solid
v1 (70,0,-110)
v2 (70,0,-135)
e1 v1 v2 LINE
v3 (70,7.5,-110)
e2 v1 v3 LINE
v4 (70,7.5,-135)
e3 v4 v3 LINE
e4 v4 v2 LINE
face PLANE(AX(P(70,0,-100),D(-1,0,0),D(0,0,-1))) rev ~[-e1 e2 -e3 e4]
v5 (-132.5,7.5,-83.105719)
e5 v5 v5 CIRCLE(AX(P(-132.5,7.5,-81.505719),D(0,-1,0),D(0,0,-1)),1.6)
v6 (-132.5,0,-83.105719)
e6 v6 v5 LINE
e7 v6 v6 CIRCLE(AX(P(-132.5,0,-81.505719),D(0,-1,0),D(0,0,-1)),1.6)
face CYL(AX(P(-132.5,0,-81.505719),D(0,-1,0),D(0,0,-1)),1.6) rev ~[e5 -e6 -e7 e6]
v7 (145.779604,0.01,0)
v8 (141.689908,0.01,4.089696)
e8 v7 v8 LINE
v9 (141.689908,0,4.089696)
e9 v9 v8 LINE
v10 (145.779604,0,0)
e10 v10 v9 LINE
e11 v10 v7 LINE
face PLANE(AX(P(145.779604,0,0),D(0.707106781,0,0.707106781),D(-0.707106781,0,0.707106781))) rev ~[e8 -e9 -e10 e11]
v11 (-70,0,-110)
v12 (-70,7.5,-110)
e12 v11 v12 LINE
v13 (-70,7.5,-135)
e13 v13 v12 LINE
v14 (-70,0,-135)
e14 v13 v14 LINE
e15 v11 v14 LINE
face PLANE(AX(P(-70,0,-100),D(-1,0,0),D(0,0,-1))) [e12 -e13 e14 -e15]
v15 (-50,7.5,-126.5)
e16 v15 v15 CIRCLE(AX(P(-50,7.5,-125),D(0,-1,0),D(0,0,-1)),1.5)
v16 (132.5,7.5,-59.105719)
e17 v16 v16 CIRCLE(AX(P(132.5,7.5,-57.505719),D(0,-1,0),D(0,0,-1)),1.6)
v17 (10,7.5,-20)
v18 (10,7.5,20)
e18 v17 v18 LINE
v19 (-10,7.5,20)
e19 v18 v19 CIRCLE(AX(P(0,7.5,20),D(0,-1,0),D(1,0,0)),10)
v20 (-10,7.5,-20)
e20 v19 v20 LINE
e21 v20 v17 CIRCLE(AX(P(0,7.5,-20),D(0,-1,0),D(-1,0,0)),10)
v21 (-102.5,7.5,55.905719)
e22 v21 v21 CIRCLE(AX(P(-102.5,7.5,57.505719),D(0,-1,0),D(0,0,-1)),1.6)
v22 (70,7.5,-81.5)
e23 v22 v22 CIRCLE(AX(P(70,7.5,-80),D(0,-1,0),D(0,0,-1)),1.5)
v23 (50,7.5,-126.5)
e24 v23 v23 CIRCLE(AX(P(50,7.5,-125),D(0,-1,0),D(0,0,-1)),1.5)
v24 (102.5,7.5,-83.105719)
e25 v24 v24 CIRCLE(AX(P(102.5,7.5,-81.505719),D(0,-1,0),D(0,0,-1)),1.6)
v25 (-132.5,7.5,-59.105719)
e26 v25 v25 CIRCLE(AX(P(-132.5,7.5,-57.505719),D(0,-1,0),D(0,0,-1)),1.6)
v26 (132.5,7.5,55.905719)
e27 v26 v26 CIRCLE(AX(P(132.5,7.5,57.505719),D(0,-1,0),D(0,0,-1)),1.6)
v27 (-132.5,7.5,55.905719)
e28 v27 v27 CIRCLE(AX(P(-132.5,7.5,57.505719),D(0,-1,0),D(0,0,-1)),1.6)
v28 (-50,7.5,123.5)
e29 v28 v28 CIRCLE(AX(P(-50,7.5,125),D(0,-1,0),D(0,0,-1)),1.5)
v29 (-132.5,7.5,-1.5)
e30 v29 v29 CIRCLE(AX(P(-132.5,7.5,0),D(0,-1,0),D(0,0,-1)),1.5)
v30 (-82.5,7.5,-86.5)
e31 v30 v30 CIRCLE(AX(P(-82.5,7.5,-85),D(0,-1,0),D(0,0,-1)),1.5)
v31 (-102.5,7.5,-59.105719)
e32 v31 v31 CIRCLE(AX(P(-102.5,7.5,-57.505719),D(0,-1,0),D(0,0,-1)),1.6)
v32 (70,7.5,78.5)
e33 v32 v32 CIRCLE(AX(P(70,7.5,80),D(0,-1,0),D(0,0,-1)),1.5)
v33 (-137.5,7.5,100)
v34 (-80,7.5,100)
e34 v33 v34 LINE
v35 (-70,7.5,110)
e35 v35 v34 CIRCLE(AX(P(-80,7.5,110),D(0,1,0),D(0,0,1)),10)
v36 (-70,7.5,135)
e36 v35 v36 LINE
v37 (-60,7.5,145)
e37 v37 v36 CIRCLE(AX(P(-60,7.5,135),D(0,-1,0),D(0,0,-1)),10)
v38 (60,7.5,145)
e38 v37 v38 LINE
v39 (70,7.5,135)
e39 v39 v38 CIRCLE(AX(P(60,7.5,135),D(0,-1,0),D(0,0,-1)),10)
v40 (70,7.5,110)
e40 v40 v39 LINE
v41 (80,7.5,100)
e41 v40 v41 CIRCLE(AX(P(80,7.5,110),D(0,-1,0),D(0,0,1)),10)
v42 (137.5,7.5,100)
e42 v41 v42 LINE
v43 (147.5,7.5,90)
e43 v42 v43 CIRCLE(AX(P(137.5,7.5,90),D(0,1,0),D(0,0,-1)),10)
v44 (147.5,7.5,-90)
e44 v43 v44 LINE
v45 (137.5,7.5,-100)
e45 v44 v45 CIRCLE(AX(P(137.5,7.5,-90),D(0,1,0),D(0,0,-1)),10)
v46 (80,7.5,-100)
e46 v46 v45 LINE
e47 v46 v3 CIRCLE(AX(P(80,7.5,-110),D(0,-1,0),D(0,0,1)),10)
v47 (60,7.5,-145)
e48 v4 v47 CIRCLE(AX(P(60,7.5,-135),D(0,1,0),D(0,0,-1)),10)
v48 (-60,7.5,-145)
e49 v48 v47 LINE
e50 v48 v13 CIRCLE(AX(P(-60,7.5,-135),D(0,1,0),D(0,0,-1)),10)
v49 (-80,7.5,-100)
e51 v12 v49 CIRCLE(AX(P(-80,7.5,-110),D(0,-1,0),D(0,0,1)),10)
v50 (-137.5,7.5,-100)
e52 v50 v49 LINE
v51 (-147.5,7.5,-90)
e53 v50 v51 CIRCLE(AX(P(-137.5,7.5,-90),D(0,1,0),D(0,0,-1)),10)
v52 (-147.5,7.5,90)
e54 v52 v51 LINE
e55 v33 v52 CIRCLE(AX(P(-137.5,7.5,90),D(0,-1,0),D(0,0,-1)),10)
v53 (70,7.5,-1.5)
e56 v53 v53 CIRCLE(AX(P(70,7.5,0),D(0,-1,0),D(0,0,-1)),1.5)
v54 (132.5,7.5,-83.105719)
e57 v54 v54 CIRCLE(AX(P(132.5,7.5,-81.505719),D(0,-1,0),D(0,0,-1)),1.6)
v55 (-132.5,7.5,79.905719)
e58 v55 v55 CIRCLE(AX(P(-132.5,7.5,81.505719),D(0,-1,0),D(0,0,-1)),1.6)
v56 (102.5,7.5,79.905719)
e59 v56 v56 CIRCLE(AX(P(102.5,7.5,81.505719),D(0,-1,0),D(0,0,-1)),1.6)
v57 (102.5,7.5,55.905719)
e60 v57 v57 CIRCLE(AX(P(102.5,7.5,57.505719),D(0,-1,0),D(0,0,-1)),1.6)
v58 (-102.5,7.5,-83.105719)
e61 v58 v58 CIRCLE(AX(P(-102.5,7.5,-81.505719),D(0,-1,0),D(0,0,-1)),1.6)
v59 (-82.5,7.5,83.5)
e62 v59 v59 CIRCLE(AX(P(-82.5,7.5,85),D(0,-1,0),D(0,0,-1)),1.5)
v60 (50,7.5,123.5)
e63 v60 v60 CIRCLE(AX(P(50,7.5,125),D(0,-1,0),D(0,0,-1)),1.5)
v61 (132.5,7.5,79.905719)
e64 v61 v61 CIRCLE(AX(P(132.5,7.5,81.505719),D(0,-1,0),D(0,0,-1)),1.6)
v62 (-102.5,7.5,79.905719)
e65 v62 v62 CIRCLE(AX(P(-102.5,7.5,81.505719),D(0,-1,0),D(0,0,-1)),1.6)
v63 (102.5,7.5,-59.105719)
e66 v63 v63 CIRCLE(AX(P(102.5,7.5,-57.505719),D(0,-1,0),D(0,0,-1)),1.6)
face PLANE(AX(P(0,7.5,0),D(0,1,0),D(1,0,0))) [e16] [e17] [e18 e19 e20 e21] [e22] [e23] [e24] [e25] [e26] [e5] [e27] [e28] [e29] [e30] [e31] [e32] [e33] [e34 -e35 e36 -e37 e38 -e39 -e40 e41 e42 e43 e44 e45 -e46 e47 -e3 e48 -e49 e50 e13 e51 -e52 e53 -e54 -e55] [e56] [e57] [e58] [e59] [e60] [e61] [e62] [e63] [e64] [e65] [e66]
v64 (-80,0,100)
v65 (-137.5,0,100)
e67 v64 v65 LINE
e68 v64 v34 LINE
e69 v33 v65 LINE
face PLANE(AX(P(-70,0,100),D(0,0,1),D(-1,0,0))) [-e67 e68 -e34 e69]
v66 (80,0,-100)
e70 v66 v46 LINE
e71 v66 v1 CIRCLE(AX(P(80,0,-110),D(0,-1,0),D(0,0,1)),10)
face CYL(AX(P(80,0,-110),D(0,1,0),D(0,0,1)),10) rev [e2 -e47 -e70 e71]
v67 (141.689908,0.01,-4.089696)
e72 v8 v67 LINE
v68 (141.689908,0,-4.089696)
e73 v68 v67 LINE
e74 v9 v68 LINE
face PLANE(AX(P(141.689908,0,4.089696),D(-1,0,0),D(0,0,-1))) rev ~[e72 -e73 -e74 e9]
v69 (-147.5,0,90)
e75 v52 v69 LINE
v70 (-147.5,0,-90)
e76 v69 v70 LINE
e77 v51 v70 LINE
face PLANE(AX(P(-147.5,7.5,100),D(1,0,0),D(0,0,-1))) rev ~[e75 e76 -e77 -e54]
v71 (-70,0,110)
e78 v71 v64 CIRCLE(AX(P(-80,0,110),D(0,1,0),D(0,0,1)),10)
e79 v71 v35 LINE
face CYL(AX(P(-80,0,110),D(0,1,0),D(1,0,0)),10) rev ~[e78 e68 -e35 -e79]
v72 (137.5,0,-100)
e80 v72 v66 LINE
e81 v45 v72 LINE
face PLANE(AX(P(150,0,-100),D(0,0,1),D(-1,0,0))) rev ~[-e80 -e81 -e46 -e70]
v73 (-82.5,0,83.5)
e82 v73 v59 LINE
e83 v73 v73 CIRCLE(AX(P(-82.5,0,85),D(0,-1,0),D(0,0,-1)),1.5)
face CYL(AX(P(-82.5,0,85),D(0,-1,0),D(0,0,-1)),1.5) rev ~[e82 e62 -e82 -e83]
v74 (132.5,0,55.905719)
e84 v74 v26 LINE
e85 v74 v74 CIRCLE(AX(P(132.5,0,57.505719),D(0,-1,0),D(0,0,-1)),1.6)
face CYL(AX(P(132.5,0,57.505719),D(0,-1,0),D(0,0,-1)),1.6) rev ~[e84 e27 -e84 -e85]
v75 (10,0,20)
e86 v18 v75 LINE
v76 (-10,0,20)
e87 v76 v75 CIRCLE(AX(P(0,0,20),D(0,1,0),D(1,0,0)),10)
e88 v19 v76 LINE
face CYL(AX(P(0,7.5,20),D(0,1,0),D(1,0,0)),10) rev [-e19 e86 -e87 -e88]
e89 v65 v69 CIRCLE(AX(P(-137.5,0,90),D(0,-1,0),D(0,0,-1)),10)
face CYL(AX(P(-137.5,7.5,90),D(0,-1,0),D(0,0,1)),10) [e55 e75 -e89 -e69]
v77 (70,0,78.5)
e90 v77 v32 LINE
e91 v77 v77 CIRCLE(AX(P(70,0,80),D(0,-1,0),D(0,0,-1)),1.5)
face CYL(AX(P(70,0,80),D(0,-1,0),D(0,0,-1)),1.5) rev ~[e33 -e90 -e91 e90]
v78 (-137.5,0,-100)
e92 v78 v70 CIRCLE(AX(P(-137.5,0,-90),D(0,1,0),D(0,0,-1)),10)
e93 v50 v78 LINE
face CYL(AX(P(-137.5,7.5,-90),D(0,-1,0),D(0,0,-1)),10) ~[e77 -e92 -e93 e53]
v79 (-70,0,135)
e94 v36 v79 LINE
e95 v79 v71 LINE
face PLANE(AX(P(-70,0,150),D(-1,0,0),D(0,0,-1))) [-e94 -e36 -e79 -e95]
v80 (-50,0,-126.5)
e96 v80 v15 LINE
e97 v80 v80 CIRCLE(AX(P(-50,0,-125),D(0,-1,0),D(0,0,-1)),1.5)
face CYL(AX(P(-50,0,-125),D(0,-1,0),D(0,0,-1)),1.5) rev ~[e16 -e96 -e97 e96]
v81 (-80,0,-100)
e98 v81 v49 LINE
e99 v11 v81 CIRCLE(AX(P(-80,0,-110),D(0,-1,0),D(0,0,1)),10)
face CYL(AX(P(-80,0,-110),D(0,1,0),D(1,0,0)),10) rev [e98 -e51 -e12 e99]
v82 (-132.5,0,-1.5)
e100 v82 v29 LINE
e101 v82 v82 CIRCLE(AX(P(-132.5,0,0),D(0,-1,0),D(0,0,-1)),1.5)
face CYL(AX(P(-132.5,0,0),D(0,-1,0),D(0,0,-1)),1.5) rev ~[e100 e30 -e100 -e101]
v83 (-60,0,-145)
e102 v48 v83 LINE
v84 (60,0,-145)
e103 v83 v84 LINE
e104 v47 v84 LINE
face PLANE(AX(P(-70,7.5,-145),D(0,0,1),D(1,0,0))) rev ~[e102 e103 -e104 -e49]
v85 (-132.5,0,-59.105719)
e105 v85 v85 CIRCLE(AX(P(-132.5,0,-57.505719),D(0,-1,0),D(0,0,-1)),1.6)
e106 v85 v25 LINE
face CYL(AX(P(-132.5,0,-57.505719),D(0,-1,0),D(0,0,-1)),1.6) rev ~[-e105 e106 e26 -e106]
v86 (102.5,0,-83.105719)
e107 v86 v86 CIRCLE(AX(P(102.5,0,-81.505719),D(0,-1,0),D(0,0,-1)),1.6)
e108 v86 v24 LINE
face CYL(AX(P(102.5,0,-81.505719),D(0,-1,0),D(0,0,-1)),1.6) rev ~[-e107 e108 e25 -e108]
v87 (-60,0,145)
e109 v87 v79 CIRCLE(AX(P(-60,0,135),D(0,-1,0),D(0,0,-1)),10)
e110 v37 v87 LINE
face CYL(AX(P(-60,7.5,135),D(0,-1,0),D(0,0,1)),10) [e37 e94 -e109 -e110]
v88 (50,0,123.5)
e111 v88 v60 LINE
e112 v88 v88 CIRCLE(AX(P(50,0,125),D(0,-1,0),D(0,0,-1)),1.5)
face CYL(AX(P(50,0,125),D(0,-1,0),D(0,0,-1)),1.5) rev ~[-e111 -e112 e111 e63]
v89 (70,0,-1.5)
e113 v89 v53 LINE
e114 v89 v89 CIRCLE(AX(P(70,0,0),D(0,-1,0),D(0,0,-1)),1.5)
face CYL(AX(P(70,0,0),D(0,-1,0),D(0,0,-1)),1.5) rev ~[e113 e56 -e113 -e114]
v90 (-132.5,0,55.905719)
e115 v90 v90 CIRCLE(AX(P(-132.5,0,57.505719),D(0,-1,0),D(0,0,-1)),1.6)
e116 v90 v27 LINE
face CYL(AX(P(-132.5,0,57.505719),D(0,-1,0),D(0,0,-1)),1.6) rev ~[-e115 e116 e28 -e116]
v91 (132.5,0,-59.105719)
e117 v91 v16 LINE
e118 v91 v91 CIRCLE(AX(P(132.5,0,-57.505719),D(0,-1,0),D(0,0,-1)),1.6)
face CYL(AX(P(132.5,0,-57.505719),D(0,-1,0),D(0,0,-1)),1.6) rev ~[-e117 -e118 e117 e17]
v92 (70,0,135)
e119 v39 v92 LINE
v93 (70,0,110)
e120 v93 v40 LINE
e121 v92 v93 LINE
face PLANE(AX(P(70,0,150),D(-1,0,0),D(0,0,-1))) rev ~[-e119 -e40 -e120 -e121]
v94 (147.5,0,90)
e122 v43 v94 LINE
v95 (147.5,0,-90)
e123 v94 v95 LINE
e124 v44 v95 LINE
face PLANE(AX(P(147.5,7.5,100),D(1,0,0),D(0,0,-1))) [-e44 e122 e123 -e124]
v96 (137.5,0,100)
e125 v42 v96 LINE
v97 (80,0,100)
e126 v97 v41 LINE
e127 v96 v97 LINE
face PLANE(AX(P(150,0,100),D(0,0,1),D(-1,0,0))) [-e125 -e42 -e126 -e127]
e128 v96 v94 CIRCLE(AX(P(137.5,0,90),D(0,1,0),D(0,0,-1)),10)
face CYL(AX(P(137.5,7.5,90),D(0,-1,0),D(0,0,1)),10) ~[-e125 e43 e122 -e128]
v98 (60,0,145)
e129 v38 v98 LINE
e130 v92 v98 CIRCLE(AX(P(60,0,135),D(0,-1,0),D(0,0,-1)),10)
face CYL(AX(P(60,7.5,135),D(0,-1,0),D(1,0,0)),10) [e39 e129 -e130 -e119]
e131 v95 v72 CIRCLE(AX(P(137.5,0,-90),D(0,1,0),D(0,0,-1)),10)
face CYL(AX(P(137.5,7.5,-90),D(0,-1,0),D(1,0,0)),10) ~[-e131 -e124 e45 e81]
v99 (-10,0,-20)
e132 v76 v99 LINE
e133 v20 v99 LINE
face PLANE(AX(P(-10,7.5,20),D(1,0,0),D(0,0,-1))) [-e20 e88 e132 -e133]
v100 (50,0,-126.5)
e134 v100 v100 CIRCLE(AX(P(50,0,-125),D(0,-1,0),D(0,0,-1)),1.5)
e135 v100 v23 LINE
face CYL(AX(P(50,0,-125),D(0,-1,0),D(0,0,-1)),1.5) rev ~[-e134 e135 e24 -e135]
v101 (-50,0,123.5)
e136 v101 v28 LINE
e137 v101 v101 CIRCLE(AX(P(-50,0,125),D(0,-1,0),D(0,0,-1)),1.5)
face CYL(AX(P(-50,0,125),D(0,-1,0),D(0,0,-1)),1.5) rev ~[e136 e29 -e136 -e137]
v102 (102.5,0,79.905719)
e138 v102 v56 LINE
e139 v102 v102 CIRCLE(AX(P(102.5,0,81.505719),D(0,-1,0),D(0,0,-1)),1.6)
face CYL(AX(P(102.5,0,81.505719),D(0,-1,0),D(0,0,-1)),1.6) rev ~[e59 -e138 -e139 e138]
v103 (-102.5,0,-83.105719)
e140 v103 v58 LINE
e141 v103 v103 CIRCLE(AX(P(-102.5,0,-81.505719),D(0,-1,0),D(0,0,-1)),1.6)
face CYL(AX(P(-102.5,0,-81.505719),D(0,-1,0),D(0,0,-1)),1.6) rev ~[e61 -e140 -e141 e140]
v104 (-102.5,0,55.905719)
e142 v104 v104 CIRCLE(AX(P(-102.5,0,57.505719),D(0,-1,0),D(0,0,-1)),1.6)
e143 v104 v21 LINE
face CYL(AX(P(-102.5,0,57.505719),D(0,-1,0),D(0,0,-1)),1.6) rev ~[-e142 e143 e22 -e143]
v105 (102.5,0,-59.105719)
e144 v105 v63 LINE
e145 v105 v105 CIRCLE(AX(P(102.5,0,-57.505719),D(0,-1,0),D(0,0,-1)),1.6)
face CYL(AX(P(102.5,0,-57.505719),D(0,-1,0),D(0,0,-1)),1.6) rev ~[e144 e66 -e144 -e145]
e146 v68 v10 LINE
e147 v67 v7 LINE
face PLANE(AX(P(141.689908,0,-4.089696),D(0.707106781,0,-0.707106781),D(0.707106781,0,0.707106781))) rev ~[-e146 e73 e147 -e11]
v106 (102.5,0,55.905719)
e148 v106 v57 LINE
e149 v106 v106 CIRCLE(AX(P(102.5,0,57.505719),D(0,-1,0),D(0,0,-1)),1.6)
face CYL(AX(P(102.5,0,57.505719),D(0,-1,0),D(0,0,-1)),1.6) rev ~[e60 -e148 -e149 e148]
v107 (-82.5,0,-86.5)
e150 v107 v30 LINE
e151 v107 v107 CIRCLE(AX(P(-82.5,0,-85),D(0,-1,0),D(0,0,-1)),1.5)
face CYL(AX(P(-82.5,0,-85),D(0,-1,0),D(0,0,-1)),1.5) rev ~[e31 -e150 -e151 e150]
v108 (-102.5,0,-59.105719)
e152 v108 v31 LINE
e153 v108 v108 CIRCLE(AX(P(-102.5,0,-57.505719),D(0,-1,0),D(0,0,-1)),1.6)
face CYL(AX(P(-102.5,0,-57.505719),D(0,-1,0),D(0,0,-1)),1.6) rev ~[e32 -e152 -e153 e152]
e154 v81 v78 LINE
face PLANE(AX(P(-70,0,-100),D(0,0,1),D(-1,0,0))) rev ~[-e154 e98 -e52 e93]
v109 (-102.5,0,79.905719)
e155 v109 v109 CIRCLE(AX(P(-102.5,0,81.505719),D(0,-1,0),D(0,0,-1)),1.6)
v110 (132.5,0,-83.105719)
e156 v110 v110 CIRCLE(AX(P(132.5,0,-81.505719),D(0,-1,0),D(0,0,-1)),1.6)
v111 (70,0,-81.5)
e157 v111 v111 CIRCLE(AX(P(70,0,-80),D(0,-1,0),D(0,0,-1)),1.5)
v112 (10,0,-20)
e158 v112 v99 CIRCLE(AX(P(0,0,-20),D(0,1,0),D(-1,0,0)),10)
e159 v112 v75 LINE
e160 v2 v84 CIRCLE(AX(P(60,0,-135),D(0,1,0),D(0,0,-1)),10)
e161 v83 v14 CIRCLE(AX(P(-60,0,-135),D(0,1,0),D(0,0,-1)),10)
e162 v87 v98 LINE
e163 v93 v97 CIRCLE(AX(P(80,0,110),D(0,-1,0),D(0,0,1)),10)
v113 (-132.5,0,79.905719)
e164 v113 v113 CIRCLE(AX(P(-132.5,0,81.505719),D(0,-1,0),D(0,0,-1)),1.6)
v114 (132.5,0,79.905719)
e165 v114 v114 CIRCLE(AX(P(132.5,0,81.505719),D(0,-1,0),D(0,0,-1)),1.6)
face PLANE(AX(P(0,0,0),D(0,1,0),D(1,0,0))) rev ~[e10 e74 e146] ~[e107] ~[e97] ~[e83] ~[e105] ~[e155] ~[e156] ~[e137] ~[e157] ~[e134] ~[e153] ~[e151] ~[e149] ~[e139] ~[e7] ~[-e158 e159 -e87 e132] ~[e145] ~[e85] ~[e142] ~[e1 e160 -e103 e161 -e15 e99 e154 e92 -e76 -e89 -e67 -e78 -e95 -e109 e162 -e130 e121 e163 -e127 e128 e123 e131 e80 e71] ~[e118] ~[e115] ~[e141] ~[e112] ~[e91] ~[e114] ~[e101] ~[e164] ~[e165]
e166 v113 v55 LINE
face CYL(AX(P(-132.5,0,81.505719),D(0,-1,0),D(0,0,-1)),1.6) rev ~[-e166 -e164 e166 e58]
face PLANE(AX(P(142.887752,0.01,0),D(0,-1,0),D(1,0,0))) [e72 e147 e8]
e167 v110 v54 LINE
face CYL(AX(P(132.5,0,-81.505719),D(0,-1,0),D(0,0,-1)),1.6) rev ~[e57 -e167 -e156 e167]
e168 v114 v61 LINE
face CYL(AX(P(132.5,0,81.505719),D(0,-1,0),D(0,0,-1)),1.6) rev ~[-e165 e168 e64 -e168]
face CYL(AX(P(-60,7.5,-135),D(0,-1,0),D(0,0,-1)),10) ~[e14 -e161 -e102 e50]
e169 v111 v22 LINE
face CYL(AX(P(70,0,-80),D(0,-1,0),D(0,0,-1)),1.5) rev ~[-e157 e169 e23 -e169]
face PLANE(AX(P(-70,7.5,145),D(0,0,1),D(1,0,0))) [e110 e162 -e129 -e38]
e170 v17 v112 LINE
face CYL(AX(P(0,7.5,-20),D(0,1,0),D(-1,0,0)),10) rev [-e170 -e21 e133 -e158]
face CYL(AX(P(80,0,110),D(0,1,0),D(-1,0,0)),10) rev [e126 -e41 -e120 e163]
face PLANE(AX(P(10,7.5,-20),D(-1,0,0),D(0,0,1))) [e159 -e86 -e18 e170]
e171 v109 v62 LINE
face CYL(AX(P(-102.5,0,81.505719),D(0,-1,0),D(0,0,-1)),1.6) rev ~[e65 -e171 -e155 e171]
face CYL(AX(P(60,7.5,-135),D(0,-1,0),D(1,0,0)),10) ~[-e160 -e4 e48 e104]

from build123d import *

# Parameters (mm, degrees)
SKETCH_1_W           = 300
SKETCH_1_H           = 300
EXTRUDE_1_DEPTH      = 7.5
SKETCH_2_W           = 80
SKETCH_2_H           = 50
CUT_EXTRUDE_1_DEPTH  = 50
SKETCH_3_R           = 1.6
SKETCH_3_R_2         = 1.600000001
SKETCH_3_R_3         = 1.599999999
CUT_EXTRUDE_2_DEPTH  = 500
CUT_EXTRUDE_4_DEPTH  = 0.01
SKETCH_6_W           = 140
SKETCH_6_H           = 5
CUT_EXTRUDE_5_DEPTH  = 400
SKETCH_7_W           = 140
SKETCH_7_H           = 5
CUT_EXTRUDE_6_DEPTH  = 500
SKETCH_8_W           = 2.5
SKETCH_8_H           = 200
CUT_EXTRUDE_7_DEPTH  = 500
SKETCH_9_W           = 2.5
SKETCH_9_H           = 200
CUT_EXTRUDE_8_DEPTH  = 500
FILLET_1_R           = 10
FILLET_2_R           = 10
FILLET_3_R           = 10
FILLET_4_R           = 10
FILLET_5_R           = 10
FILLET_6_R           = 10
SKETCH_11_R          = 1.5
CUT_EXTRUDE_9_DEPTH  = 500
SKETCH_12_R          = 1.5
CUT_EXTRUDE_10_DEPTH = 500
CUT_EXTRUDE_11_DEPTH = 50


with BuildPart() as part:
    # 草图1 → 凸台-拉伸1 (new body)
    with BuildSketch(Plane(origin=(0, 0, 0), x_dir=(1, 0, 0), z_dir=(0, 1, 0))):
        Rectangle(SKETCH_1_W, SKETCH_1_H)
    extrude(amount=EXTRUDE_1_DEPTH)

    # 草图2 → 切除-拉伸1 (cut)
    with BuildSketch(Plane(origin=(0, 0, 0), x_dir=(-1, 0, 0), z_dir=(0, -1, 0))):
        with Locations((-110, -125)):
            Rectangle(SKETCH_2_W, SKETCH_2_H)
        with Locations((-110, 125)):
            Rectangle(SKETCH_2_W, SKETCH_2_H)
        with Locations((110, -125)):
            Rectangle(SKETCH_2_W, SKETCH_2_H)
        with Locations((110, 125)):
            Rectangle(SKETCH_2_W, SKETCH_2_H)
    extrude(amount=-CUT_EXTRUDE_1_DEPTH, mode=Mode.SUBTRACT)

    # 草图3 → 切除-拉伸2 (cut)
    with BuildSketch(Plane.XZ):
        with Locations(Location((132.5, 81.505719169, 0), (0, 0, 270))):
            Circle(SKETCH_3_R)
        with Locations(Location((132.5, 57.505719169, 0), (0, 0, 270))):
            Circle(SKETCH_3_R)
        with Locations(Location((102.5, 81.505719169, 0), (0, 0, 270))):
            Circle(SKETCH_3_R)
        with Locations(Location((102.5, 57.505719169, 0), (0, 0, 270))):
            Circle(SKETCH_3_R)
        with Locations(Location((-102.5, 81.505719169, 0), (0, 0, 270))):
            Circle(SKETCH_3_R_2)
        with Locations(Location((-102.5, 57.505719169, 0), (0, 0, 270))):
            Circle(SKETCH_3_R_2)
        with Locations(Location((-132.5, 81.505719169, 0), (0, 0, 270))):
            Circle(SKETCH_3_R_2)
        with Locations(Location((-132.5, 57.505719169, 0), (0, 0, 270))):
            Circle(SKETCH_3_R_2)
        with Locations(Location((-132.5, -57.505719169, 0), (0, 0, 270))):
            Circle(SKETCH_3_R_3)
        with Locations(Location((-132.5, -81.505719169, 0), (0, 0, 270))):
            Circle(SKETCH_3_R_3)
        with Locations(Location((-102.5, -57.505719169, 0), (0, 0, 270))):
            Circle(SKETCH_3_R_3)
        with Locations(Location((-102.5, -81.505719169, 0), (0, 0, 270))):
            Circle(SKETCH_3_R_3)
        with Locations(Location((132.5, -81.505719169, 0), (0, 0, 270))):
            Circle(SKETCH_3_R)
        with Locations(Location((132.5, -57.505719169, 0), (0, 0, 270))):
            Circle(SKETCH_3_R)
        with Locations(Location((102.5, -57.505719169, 0), (0, 0, 270))):
            Circle(SKETCH_3_R)
        with Locations(Location((102.5, -81.505719169, 0), (0, 0, 270))):
            Circle(SKETCH_3_R)
    extrude(amount=-CUT_EXTRUDE_2_DEPTH, mode=Mode.SUBTRACT)

    # 草图5 → 切除-拉伸4 (cut)
    with BuildSketch(Plane.XZ):
        Polygon((145.77960396, 0), (141.689907669, 4.08969629), (141.689907669, -4.08969629), align=None)
    extrude(amount=-CUT_EXTRUDE_4_DEPTH, mode=Mode.SUBTRACT)

    # 草图6 → 切除-拉伸5 (cut)
    with BuildSketch(Plane(origin=(0, 7.5, 0), x_dir=(1, 0, 0), z_dir=(0, 1, 0))):
        with Locations((0, 147.5)):
            Rectangle(SKETCH_6_W, SKETCH_6_H)
    extrude(amount=-CUT_EXTRUDE_5_DEPTH, mode=Mode.SUBTRACT)

    # 草图7 → 切除-拉伸6 (cut)
    with BuildSketch(Plane(origin=(0, 7.5, 0), x_dir=(1, 0, 0), z_dir=(0, 1, 0))):
        with Locations((0, -147.5)):
            Rectangle(SKETCH_7_W, SKETCH_7_H)
    extrude(amount=-CUT_EXTRUDE_6_DEPTH, mode=Mode.SUBTRACT)

    # 草图8 → 切除-拉伸7 (cut)
    with BuildSketch(Plane(origin=(0, 7.5, 0), x_dir=(1, 0, 0), z_dir=(0, 1, 0))):
        with Locations((-148.75, 0)):
            Rectangle(SKETCH_8_W, SKETCH_8_H)
    extrude(amount=-CUT_EXTRUDE_7_DEPTH, mode=Mode.SUBTRACT)

    # 草图9 → 切除-拉伸8 (cut)
    with BuildSketch(Plane(origin=(0, 7.5, 0), x_dir=(1, 0, 0), z_dir=(0, 1, 0))):
        with Locations((148.75, 0)):
            Rectangle(SKETCH_9_W, SKETCH_9_H)
    extrude(amount=-CUT_EXTRUDE_8_DEPTH, mode=Mode.SUBTRACT)

    # 圆角1
    fillet_1_edges = [part.edges().sort_by_distance(p)[0] for p in [
        (-70, 3.75, 145),
        (70, 3.75, 145),
    ]]
    fillet(fillet_1_edges, radius=FILLET_1_R)

    # 圆角2
    fillet_2_edges = [part.edges().sort_by_distance(p)[0] for p in [
        (-70, 3.75, 100),
        (70, 3.75, 100),
    ]]
    fillet(fillet_2_edges, radius=FILLET_2_R)

    # 圆角3
    fillet_3_edges = [part.edges().sort_by_distance(p)[0] for p in [
        (-147.5, 3.75, 100),
        (147.5, 3.75, 100),
    ]]
    fillet(fillet_3_edges, radius=FILLET_3_R)

    # 圆角4
    fillet_4_edges = [part.edges().sort_by_distance(p)[0] for p in [
        (-147.5, 3.75, -100),
        (147.5, 3.75, -100),
    ]]
    fillet(fillet_4_edges, radius=FILLET_4_R)

    # 圆角5
    fillet_5_edges = [part.edges().sort_by_distance(p)[0] for p in [
        (70, 3.75, -100),
        (-70, 3.75, -100),
    ]]
    fillet(fillet_5_edges, radius=FILLET_5_R)

    # 圆角6
    fillet_6_edges = [part.edges().sort_by_distance(p)[0] for p in [
        (70, 3.75, -145),
        (-70, 3.75, -145),
    ]]
    fillet(fillet_6_edges, radius=FILLET_6_R)

    # 草图11 → 切除-拉伸9 (cut)
    with BuildSketch(Plane.XZ):
        with Locations(Location((-50, 125, 0), (0, 0, 270))):
            Circle(SKETCH_11_R)
    extrude(amount=-CUT_EXTRUDE_9_DEPTH, mode=Mode.SUBTRACT)

    # 草图12 → 切除-拉伸10 (cut)
    with BuildSketch(Plane.XZ):
        with Locations(Location((50, 125, 0), (0, 0, 270))):
            Circle(SKETCH_12_R)
        with Locations(Location((70, 80, 0), (0, 0, 270))):
            Circle(SKETCH_12_R)
        with Locations(Location((70, 0, 0), (0, 0, 270))):
            Circle(SKETCH_12_R)
        with Locations(Location((70, -80, 0), (0, 0, 270))):
            Circle(SKETCH_12_R)
        with Locations(Location((50, -125, 0), (0, 0, 270))):
            Circle(SKETCH_12_R)
        with Locations(Location((-50, -125, 0), (0, 0, 270))):
            Circle(SKETCH_12_R)
        with Locations(Location((-82.5, -85, 0), (0, 0, 270))):
            Circle(SKETCH_12_R)
        with Locations(Location((-132.5, 0, 0), (0, 0, 270))):
            Circle(SKETCH_12_R)
        with Locations(Location((-50, 125, 0), (0, 0, 270))):
            Circle(SKETCH_12_R)
        with Locations(Location((-82.5, 85, 0), (0, 0, 270))):
            Circle(SKETCH_12_R)
    extrude(amount=-CUT_EXTRUDE_10_DEPTH, mode=Mode.SUBTRACT)

    # 草图13 → 切除-拉伸11 (cut)
    with BuildSketch(Plane(origin=(0, 7.5, 0), x_dir=(1, 0, 0), z_dir=(0, 1, 0))):
        with BuildLine():
            Line((-10, -20), (-10, 20))
            ThreePointArc((-10, 20), (0, 30), (10, 20))
            Line((10, 20), (10, -20))
            ThreePointArc((10, -20), (0, -30), (-10, -20))
        make_face()
    extrude(amount=-CUT_EXTRUDE_11_DEPTH, mode=Mode.SUBTRACT)


solid = part.part
